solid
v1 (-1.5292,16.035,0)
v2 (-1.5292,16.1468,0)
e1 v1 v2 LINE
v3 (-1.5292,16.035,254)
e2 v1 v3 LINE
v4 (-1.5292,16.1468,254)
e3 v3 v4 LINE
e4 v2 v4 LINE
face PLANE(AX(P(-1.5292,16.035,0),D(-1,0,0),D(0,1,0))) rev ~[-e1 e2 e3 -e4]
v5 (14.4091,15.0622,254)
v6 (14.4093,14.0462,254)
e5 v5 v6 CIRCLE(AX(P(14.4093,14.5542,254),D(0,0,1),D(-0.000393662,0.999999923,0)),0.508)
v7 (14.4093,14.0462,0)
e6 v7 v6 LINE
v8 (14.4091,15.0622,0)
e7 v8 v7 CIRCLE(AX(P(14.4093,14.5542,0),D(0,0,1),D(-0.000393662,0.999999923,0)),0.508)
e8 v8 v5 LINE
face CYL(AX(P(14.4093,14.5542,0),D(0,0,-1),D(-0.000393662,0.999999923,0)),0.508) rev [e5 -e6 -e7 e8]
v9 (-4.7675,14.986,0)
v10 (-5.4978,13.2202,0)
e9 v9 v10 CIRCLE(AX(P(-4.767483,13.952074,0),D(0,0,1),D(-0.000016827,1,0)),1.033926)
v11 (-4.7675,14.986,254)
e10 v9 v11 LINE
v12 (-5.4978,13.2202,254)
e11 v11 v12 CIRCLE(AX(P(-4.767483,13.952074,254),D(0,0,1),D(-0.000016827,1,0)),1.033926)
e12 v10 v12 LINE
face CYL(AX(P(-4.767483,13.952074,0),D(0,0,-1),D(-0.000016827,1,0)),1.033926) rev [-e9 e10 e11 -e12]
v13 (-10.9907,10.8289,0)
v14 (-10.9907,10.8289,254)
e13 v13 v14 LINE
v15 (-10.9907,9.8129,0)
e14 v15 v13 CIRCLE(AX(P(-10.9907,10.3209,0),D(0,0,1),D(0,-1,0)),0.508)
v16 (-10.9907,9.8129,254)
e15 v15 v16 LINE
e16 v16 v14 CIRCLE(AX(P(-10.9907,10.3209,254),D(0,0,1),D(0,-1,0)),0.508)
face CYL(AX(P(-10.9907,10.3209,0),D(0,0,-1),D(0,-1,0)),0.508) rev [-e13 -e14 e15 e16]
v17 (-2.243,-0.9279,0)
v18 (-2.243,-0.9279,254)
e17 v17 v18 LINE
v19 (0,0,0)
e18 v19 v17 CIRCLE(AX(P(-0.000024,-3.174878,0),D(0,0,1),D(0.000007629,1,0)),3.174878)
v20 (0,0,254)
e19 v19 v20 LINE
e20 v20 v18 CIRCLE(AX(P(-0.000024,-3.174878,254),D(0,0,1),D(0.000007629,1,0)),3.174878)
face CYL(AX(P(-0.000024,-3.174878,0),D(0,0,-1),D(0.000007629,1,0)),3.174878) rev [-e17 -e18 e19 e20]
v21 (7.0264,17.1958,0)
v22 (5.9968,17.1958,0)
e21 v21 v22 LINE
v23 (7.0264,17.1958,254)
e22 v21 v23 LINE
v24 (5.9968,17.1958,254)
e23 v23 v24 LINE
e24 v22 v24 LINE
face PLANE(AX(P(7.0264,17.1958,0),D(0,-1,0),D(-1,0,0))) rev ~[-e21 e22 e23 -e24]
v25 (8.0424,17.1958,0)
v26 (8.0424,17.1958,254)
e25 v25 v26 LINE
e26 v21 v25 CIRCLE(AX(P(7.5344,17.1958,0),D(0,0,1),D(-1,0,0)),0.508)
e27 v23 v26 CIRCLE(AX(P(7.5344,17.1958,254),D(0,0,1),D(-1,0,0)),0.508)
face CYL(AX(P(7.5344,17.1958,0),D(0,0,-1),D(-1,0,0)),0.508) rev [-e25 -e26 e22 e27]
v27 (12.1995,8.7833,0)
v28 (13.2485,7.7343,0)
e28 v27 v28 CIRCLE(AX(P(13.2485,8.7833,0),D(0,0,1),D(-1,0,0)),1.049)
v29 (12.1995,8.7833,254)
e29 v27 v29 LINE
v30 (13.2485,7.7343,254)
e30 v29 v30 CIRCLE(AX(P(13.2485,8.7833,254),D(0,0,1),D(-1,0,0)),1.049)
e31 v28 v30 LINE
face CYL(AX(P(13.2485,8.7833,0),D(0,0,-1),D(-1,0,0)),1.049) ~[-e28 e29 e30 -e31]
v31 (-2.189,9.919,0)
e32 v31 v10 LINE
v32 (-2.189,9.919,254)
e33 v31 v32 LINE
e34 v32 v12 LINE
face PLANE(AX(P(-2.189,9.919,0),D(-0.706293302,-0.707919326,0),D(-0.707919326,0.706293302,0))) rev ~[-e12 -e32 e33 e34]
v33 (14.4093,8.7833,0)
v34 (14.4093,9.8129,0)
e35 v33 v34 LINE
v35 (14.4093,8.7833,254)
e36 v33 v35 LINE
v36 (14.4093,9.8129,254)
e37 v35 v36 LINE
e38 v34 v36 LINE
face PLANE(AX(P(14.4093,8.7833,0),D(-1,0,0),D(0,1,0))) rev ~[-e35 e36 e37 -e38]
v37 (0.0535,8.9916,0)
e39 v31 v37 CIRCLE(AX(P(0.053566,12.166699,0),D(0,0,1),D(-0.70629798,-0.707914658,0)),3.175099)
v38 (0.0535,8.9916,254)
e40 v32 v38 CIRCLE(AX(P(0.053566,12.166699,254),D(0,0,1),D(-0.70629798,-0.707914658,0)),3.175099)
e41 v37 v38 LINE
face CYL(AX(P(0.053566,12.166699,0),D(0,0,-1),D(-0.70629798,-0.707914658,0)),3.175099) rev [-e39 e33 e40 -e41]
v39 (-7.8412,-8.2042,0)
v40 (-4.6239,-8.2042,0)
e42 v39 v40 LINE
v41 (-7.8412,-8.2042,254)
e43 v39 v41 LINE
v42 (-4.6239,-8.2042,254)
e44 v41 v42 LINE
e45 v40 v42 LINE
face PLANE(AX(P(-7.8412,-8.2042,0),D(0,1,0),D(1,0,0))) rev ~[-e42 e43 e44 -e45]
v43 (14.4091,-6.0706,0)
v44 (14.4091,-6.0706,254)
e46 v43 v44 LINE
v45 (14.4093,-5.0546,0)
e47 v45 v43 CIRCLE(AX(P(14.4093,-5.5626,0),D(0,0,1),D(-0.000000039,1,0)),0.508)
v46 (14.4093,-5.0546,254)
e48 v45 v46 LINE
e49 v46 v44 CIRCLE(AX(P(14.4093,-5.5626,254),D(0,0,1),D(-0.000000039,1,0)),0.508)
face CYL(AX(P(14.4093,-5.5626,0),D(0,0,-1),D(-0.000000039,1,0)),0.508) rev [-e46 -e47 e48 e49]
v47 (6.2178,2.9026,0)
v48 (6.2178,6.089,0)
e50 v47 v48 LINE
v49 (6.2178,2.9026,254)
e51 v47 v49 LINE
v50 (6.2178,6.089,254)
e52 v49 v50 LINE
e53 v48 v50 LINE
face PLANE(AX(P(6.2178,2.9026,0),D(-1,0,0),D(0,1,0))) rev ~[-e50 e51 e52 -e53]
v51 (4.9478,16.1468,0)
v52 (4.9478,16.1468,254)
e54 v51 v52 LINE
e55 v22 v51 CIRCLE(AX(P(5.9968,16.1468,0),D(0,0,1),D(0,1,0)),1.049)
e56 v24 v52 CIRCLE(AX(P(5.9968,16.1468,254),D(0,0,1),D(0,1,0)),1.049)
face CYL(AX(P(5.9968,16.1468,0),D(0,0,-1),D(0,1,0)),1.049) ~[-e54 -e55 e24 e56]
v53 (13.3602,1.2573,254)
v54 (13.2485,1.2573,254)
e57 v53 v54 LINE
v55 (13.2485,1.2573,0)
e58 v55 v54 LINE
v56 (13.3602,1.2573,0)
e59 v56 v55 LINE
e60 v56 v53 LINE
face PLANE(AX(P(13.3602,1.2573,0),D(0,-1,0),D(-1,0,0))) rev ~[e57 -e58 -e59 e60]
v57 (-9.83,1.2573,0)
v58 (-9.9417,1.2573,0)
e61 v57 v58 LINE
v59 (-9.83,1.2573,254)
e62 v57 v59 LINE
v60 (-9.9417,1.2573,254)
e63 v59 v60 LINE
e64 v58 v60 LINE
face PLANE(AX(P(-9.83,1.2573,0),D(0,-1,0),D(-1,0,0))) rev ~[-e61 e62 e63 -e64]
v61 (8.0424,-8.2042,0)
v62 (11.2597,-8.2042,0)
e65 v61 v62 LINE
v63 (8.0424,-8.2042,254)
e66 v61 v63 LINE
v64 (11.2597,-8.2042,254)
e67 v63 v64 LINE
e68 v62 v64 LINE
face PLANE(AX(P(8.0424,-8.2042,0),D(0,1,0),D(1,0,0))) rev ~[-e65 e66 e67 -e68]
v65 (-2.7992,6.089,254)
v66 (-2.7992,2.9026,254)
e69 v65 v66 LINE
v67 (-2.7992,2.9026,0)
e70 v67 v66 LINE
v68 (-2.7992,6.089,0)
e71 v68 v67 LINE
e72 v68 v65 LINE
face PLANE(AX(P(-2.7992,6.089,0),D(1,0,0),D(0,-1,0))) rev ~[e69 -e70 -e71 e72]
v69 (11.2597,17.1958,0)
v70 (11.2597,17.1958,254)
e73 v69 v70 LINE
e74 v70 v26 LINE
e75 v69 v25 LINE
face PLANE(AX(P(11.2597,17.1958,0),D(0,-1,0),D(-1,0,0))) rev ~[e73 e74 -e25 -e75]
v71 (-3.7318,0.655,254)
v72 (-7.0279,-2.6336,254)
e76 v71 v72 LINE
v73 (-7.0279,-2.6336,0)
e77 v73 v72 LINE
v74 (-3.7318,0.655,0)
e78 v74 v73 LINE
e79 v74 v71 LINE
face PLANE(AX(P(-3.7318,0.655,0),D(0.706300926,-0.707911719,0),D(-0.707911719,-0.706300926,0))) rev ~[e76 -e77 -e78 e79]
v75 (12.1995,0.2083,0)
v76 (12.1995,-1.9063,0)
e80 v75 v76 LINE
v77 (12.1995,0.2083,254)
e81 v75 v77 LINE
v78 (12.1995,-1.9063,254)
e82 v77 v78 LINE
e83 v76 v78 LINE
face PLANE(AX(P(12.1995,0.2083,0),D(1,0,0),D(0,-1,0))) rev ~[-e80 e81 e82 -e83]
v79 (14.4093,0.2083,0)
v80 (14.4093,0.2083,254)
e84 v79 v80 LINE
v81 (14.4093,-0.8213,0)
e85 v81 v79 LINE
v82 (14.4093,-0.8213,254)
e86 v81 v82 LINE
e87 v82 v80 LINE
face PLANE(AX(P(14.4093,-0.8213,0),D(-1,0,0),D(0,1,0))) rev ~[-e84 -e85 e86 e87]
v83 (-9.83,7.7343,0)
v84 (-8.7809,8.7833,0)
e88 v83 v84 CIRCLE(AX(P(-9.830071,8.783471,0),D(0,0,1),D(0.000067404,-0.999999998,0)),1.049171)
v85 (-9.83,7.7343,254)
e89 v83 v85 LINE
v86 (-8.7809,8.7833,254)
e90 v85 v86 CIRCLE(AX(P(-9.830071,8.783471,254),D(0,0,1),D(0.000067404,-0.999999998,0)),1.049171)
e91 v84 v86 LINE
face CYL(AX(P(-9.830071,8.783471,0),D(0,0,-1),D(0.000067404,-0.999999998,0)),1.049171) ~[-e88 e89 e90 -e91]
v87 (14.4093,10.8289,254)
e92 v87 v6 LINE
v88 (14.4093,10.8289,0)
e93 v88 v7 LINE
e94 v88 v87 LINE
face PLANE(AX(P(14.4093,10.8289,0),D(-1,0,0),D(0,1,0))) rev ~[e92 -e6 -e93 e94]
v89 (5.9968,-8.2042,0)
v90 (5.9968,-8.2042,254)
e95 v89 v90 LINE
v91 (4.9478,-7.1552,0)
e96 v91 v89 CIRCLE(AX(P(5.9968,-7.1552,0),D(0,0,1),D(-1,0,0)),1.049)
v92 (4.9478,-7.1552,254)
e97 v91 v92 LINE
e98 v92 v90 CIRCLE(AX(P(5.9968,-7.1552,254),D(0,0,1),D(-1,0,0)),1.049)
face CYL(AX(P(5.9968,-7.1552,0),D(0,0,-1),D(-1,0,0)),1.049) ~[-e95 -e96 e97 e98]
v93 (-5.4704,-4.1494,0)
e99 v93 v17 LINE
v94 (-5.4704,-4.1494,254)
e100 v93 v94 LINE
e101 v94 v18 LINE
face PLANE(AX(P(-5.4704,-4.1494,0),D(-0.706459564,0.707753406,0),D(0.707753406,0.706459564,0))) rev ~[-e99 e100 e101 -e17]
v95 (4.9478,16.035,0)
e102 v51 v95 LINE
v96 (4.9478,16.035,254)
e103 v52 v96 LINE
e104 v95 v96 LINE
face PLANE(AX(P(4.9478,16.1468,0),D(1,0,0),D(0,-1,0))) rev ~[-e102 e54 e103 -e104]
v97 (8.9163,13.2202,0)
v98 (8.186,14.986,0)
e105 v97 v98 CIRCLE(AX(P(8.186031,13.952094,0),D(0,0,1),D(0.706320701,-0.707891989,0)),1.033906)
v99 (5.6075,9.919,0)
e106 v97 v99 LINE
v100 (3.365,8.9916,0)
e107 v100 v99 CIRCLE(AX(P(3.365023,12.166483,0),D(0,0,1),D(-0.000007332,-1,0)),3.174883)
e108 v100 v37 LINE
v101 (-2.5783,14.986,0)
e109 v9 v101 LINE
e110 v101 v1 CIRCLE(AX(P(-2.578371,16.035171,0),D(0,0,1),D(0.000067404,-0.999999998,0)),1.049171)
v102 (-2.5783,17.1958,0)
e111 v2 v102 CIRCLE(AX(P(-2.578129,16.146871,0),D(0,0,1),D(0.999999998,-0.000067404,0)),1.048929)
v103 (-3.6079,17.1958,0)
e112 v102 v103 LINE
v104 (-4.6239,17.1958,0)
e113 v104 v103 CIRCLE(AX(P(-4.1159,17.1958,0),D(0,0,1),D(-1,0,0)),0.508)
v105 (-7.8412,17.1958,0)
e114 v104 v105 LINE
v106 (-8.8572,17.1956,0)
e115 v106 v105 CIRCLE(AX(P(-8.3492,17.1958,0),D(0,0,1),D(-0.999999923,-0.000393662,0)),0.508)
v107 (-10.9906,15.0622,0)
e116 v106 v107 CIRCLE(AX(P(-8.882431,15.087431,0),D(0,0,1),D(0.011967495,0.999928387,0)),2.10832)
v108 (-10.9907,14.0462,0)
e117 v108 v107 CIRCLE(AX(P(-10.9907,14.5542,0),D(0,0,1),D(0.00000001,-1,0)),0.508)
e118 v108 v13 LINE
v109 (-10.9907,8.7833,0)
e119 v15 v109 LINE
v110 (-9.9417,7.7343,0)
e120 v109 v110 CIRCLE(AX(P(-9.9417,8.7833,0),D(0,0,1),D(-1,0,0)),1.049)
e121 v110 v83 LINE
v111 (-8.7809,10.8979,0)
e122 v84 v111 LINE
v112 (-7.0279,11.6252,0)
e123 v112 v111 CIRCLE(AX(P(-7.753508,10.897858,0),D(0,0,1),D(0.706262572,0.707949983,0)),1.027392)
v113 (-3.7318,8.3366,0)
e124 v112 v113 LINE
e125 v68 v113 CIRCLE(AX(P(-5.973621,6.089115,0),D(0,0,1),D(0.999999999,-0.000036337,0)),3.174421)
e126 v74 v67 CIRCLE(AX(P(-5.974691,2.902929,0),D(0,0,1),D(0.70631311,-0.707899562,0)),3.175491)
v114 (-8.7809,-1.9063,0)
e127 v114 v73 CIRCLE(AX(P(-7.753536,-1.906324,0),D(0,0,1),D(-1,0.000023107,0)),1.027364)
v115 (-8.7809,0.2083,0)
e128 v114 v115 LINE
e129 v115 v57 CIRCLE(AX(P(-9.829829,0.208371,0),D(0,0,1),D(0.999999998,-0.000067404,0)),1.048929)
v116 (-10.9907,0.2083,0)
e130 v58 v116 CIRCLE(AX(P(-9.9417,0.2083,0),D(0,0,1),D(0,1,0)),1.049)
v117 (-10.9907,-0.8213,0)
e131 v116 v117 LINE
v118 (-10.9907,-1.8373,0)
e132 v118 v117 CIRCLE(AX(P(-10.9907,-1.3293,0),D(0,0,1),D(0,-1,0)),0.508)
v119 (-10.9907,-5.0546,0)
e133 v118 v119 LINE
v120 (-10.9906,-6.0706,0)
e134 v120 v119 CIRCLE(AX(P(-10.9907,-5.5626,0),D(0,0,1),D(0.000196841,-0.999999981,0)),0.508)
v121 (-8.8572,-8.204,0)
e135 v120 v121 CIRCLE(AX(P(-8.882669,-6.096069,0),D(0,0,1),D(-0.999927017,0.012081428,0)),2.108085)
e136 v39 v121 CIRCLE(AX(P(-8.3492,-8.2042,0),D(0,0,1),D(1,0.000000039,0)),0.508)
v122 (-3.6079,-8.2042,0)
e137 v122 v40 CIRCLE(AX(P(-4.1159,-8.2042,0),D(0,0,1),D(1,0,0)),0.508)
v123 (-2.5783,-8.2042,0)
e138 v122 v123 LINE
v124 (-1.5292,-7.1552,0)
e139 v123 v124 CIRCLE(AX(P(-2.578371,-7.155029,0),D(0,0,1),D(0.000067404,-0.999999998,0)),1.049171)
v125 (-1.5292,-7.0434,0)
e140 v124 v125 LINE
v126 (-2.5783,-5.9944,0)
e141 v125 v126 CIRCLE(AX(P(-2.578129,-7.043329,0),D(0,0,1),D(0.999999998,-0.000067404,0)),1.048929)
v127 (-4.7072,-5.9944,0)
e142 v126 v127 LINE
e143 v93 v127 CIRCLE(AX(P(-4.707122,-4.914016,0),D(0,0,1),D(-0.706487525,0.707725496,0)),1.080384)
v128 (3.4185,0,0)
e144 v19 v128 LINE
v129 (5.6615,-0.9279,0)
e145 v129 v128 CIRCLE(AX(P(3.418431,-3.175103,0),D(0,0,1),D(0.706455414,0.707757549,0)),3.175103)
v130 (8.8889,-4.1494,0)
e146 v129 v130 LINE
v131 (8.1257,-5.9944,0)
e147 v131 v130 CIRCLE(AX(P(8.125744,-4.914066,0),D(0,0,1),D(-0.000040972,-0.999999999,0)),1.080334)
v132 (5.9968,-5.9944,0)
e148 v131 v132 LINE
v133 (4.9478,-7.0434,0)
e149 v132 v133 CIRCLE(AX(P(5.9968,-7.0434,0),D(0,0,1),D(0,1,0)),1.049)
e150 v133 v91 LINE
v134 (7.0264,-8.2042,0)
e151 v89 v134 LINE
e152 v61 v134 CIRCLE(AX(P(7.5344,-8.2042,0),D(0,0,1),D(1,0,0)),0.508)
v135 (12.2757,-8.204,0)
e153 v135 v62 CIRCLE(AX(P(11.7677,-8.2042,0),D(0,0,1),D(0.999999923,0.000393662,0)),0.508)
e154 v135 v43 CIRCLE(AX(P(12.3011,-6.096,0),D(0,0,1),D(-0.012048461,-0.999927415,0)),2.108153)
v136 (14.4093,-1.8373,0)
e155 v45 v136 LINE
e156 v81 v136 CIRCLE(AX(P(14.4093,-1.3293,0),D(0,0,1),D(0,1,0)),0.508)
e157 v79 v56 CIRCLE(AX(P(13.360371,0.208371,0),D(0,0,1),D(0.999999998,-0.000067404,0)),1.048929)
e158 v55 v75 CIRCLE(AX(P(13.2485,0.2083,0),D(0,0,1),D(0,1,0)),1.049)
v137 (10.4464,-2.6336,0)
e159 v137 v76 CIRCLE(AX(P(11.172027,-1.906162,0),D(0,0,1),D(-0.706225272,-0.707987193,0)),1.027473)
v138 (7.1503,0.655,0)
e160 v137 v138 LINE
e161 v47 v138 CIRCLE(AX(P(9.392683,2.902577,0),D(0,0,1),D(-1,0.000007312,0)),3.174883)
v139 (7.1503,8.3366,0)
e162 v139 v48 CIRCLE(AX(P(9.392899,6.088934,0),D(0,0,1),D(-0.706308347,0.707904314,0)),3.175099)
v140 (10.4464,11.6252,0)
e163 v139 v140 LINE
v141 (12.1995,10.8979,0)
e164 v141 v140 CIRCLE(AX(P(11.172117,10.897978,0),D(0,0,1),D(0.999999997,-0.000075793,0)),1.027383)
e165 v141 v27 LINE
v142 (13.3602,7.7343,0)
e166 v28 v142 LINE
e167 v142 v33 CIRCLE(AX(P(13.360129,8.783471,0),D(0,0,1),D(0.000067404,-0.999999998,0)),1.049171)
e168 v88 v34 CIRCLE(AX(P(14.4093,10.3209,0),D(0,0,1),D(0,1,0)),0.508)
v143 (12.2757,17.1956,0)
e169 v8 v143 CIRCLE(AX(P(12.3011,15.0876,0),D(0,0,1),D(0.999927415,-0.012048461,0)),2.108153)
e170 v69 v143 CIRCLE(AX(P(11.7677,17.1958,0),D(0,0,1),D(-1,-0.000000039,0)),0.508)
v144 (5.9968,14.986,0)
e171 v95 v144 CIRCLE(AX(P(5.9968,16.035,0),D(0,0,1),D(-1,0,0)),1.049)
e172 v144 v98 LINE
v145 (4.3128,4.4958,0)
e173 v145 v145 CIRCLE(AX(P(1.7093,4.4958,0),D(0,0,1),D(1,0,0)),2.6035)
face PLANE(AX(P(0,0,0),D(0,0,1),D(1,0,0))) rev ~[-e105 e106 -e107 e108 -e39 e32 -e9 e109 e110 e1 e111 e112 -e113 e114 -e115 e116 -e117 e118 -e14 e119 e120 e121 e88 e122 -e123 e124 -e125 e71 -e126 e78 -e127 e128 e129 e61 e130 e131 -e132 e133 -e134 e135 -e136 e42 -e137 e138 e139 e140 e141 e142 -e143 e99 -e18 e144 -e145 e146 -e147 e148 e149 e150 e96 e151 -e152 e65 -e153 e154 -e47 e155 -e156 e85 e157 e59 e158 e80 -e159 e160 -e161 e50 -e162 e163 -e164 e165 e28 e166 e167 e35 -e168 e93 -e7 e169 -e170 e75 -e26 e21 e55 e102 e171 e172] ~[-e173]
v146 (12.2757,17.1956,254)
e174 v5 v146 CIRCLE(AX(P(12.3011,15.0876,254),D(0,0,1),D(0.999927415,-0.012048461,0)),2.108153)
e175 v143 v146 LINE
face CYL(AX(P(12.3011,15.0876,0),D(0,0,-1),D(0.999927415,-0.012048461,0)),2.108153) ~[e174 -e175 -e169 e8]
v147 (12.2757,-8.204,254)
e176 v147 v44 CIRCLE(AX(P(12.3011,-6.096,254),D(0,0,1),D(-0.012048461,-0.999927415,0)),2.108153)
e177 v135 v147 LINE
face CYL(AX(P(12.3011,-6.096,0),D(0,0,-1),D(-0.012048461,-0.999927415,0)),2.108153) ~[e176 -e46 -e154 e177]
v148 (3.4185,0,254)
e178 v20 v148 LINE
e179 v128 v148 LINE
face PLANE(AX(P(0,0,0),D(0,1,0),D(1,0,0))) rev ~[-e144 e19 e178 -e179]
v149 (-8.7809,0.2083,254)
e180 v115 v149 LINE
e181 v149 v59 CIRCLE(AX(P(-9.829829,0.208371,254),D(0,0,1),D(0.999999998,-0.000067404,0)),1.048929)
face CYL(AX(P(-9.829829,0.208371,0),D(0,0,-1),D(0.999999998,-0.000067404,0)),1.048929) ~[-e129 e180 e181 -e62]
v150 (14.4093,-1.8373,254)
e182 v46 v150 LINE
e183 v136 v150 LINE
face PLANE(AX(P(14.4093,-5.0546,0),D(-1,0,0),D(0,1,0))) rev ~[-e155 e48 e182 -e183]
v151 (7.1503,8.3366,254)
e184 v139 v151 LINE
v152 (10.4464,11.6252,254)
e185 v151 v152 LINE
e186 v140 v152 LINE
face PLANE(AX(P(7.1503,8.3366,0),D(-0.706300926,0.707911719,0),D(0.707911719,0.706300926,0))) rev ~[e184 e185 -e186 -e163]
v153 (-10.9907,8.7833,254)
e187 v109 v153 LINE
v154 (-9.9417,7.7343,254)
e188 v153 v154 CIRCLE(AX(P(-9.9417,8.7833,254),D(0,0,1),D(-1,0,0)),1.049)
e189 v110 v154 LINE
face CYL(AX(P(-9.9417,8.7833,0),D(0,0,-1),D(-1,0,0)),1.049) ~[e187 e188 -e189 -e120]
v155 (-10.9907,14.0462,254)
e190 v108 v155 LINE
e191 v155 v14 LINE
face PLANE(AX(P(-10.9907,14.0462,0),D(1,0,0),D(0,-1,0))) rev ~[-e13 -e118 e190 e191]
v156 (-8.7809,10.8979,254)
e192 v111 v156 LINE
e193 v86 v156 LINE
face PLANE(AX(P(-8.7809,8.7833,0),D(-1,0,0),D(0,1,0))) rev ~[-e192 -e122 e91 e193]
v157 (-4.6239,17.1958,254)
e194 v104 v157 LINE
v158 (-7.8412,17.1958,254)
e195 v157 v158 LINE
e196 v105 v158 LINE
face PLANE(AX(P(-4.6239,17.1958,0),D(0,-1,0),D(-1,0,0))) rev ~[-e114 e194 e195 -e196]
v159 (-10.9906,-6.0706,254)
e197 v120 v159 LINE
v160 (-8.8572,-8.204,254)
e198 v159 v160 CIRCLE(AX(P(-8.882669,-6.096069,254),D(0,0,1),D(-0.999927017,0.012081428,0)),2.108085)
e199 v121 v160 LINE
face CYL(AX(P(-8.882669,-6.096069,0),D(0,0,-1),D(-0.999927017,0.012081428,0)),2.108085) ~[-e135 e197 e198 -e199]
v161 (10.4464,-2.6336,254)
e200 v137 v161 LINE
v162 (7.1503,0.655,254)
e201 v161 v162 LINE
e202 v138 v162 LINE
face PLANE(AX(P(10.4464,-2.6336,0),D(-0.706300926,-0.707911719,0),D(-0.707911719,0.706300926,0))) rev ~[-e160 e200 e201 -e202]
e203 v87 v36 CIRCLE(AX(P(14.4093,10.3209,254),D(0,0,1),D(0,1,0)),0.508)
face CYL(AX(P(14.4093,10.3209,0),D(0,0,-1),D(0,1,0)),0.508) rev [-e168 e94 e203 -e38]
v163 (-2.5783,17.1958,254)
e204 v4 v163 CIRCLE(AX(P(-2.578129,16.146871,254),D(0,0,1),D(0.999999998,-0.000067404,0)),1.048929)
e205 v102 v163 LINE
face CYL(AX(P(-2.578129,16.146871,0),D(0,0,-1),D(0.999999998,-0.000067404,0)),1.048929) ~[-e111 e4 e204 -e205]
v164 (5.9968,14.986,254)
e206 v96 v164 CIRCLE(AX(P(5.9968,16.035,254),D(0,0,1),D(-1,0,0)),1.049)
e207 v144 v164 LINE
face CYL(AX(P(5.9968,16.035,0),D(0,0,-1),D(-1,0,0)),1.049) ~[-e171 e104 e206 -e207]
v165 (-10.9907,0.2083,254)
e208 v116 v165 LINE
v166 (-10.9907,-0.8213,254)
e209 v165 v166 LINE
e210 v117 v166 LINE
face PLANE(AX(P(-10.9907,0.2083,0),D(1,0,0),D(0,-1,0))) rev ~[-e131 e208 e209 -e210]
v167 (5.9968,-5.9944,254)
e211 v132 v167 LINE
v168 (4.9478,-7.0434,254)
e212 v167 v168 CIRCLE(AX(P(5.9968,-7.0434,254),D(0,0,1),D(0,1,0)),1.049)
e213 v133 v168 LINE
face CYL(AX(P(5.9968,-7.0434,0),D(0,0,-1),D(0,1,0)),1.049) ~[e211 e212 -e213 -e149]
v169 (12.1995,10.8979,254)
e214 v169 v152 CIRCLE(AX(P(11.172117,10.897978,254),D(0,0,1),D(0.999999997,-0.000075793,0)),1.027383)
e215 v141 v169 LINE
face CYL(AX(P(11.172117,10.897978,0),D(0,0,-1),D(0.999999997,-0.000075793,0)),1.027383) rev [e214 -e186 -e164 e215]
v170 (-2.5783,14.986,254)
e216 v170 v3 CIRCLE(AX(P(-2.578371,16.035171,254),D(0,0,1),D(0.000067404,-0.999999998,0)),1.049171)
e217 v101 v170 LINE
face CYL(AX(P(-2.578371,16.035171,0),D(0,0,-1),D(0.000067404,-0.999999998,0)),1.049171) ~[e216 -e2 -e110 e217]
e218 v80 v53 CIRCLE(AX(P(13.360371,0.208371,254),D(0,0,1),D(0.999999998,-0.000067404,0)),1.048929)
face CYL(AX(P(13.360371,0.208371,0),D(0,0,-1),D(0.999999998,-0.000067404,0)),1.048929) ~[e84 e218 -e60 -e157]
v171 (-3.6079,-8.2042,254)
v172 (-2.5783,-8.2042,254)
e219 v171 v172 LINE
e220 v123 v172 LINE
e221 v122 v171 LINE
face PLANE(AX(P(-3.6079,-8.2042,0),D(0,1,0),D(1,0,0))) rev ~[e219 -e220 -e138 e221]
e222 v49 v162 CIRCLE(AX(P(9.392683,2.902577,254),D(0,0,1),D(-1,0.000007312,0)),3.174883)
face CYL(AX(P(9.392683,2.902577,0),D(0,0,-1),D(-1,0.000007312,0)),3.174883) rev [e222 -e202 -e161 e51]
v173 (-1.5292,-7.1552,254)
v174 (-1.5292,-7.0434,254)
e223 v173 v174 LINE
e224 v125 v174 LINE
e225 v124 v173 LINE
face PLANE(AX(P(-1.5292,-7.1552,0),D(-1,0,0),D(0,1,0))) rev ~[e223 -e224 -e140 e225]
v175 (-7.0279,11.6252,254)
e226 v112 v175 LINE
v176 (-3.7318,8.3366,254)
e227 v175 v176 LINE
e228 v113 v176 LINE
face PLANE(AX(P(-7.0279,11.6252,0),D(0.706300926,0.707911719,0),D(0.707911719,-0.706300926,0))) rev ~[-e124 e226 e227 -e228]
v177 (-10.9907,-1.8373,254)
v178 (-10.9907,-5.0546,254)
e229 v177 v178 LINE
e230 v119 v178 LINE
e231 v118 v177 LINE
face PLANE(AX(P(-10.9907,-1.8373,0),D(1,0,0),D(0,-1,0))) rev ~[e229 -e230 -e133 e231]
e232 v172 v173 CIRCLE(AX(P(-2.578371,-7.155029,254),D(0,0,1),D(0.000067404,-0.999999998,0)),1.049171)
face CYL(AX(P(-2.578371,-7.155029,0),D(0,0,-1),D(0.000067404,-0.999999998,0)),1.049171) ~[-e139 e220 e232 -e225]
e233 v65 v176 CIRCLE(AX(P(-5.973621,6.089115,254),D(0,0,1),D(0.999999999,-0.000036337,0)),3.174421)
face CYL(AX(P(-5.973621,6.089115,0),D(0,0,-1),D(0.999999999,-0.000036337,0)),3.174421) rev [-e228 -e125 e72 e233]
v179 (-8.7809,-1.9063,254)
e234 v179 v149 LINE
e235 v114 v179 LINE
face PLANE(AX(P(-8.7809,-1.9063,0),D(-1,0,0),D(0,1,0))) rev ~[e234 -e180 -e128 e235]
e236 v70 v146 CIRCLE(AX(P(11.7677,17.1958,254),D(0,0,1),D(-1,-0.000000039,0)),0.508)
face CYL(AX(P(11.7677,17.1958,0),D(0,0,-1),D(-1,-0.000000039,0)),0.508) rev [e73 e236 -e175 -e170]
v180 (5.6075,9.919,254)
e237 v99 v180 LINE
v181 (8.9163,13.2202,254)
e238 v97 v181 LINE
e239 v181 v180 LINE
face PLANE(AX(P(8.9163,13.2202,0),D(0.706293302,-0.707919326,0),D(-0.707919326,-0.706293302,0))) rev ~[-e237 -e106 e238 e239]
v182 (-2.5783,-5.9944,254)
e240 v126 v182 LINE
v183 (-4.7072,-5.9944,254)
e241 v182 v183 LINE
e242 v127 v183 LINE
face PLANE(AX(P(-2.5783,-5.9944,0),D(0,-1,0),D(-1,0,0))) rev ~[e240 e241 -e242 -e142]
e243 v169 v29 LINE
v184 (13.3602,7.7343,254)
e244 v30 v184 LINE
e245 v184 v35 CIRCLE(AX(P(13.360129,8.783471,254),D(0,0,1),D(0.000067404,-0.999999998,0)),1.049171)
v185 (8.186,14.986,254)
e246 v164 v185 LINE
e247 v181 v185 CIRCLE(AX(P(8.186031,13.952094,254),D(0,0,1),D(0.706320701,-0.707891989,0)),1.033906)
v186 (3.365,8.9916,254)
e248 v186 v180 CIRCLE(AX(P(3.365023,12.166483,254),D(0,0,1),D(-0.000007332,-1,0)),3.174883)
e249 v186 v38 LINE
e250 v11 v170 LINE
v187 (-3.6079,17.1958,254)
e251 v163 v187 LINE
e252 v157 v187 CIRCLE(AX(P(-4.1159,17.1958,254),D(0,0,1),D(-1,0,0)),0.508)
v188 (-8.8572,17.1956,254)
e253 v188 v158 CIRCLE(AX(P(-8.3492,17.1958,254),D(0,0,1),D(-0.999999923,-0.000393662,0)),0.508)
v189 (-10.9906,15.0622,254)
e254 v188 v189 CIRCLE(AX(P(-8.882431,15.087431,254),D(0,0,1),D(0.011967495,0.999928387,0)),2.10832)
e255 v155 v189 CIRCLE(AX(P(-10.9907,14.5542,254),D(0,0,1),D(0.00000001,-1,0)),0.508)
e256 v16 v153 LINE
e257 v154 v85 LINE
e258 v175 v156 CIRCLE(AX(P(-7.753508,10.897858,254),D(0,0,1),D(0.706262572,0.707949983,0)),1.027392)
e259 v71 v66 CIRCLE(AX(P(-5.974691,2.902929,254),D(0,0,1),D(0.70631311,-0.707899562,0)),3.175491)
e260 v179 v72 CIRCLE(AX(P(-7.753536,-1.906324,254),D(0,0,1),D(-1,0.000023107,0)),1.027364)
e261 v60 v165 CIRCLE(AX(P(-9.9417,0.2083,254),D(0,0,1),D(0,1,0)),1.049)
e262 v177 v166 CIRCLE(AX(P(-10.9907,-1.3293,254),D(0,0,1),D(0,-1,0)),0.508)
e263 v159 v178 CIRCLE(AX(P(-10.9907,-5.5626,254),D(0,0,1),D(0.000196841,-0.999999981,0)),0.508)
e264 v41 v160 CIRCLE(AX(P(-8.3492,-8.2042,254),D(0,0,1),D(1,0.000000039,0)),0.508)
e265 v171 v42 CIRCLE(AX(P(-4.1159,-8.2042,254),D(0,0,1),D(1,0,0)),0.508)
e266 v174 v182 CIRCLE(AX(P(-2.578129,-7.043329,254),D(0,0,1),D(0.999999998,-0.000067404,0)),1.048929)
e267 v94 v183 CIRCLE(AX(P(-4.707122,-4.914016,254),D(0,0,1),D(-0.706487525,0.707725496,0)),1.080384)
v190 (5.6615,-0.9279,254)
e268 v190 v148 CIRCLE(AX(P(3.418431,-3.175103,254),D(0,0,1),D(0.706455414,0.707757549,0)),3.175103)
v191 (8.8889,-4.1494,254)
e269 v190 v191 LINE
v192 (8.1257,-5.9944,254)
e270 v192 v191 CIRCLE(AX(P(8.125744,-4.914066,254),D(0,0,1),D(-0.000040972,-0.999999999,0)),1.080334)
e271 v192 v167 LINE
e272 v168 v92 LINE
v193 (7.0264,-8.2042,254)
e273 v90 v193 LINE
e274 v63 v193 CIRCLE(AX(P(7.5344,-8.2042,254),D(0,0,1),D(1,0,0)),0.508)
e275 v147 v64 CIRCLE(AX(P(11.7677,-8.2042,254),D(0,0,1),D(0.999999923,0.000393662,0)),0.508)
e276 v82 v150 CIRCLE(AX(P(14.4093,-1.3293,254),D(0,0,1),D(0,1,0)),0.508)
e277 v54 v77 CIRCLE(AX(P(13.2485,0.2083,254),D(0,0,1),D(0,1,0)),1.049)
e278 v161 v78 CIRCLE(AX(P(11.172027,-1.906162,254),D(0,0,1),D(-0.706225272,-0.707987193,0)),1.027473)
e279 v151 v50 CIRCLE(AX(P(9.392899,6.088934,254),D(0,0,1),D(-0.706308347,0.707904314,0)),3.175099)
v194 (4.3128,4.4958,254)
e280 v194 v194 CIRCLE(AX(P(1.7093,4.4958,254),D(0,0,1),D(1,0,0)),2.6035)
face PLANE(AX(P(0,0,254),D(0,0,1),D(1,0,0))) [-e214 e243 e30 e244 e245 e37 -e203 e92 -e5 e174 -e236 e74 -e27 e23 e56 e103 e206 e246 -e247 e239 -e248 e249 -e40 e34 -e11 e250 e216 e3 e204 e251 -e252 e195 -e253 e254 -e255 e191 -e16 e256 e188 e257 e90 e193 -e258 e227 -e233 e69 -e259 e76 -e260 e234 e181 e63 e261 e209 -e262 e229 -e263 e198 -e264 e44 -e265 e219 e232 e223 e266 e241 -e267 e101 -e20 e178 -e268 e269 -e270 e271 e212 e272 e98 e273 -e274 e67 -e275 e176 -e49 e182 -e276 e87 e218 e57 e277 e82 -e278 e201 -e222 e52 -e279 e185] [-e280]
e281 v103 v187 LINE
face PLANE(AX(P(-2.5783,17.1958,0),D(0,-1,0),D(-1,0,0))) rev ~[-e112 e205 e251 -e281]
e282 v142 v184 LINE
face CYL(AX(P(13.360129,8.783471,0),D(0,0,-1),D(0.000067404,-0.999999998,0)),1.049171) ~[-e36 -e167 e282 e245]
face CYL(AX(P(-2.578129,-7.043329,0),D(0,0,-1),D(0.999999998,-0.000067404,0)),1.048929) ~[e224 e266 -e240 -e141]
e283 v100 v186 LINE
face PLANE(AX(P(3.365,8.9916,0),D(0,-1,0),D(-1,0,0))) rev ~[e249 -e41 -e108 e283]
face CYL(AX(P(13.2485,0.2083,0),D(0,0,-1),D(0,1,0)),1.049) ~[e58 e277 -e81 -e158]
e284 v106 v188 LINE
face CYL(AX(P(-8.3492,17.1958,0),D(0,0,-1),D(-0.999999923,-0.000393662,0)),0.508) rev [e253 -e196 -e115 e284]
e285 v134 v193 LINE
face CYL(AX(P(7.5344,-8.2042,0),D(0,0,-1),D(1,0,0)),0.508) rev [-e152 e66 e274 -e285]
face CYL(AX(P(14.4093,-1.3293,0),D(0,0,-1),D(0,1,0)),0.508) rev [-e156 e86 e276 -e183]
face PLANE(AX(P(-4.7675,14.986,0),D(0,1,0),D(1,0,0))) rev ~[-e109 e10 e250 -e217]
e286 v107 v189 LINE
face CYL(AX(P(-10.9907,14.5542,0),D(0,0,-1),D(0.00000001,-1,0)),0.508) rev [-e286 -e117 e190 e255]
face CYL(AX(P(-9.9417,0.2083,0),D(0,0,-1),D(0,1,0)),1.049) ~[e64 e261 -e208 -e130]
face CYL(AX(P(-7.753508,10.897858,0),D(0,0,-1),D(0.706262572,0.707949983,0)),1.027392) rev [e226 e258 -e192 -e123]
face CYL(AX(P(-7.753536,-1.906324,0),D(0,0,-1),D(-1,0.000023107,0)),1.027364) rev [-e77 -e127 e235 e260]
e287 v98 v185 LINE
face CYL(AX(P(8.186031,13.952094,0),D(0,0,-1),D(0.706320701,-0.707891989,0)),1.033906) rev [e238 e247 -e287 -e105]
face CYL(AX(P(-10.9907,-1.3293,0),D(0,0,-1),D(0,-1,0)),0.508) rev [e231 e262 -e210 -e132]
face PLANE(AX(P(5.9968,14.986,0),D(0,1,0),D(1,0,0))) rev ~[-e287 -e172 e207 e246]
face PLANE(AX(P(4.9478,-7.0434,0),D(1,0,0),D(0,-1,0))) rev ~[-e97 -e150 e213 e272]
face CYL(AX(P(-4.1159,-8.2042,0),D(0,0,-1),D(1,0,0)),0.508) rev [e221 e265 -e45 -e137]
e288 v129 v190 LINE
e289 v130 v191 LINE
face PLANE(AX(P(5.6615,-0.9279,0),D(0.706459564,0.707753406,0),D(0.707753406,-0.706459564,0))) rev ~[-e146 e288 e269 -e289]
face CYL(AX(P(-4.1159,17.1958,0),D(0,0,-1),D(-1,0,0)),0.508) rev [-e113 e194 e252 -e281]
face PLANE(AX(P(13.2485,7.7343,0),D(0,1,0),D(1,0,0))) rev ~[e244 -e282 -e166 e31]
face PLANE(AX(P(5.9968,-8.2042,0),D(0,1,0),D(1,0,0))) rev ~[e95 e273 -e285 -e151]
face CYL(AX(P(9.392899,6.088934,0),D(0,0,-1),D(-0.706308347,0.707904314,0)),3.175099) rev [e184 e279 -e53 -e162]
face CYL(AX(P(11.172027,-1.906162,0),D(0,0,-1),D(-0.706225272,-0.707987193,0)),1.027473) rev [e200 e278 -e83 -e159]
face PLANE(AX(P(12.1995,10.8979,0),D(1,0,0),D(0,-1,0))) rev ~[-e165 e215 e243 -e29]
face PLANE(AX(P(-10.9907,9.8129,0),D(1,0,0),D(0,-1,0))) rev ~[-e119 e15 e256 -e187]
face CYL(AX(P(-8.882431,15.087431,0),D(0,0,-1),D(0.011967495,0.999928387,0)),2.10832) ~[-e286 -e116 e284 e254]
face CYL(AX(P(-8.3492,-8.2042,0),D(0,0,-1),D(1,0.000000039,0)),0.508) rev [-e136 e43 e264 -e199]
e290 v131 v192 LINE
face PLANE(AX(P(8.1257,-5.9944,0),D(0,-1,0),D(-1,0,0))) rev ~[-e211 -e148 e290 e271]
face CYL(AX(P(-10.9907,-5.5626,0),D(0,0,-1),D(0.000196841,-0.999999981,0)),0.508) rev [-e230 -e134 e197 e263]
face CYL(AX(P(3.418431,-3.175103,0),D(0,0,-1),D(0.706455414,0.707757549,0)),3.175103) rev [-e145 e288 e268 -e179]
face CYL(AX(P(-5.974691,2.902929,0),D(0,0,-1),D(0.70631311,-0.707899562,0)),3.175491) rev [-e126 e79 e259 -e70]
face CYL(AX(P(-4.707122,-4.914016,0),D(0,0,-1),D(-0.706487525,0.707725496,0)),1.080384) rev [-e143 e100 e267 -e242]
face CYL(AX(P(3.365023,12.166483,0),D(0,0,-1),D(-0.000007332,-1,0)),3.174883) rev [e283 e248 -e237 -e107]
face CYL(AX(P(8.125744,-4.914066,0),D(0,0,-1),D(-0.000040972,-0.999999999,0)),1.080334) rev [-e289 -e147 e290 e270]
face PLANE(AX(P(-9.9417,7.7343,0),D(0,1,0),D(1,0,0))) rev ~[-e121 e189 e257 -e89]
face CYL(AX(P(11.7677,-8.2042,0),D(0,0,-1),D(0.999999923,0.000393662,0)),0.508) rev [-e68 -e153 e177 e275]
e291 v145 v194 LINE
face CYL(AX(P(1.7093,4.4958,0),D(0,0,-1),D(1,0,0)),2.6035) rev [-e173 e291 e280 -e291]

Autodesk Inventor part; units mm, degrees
ref_plane "YZ Plane" through (0, 0, 0) normal (1, 0, 0) x (0, 1, 0)
ref_plane "XZ Plane" through (0, 0, 0) normal (0, 1, 0) x (-1, 0, 0)
ref_plane "XY Plane" through (0, 0, 0) normal (0, 0, 1) x (1, 0, 0)
sketch "Sketch1" plane through (0, 0, 0) normal (0, 0, 1) x (1, 0, 0)
  arc A0 (-5.4704, -4.1494) -> (-4.7072, -5.9944) centre (-4.7072, -4.914) ccw
  line L0 (-5.4704, -4.1494) -> (-2.243, -0.9279)
  arc A1 (0, 0) -> (-2.243, -0.9279) centre (0, -3.175) ccw
  line L1 (0, 0) -> (3.4185, 0)
  arc A2 (5.6615, -0.9279) -> (3.4185, 0) centre (3.4185, -3.175) ccw
  line L2 (5.6615, -0.9279) -> (8.8889, -4.1494)
  arc A3 (8.1257, -5.9944) -> (8.8889, -4.1494) centre (8.1257, -4.914) ccw
  line L3 (8.1257, -5.9944) -> (5.9968, -5.9944)
  arc A4 (5.9968, -5.9944) -> (4.9478, -7.0434) centre (5.9968, -7.0434) ccw
  line L4 (4.9478, -7.0434) -> (4.9478, -7.1552)
  arc A5 (4.9478, -7.1552) -> (5.9968, -8.2042) centre (5.9968, -7.1552) ccw
  line L5 (5.9968, -8.2042) -> (7.0264, -8.2042)
  arc A6 (8.0424, -8.2042) -> (7.0264, -8.2042) centre (7.5344, -8.2042) ccw
  line L6 (8.0424, -8.2042) -> (11.2597, -8.2042)
  arc A7 (12.2757, -8.204) -> (11.2597, -8.2042) centre (11.7677, -8.2042) ccw
  arc A8 (12.2757, -8.204) -> (14.4091, -6.0706) centre (12.3011, -6.096) ccw
  arc A9 (14.4093, -5.0546) -> (14.4091, -6.0706) centre (14.4093, -5.5626) ccw
  line L7 (14.4093, -5.0546) -> (14.4093, -1.8373)
  arc A10 (14.4093, -0.8213) -> (14.4093, -1.8373) centre (14.4093, -1.3293) ccw
  line L8 (14.4093, -0.8213) -> (14.4093, 0.2083)
  arc A11 (14.4093, 0.2083) -> (13.3602, 1.2573) centre (13.3602, 0.2083) ccw
  line L9 (13.3602, 1.2573) -> (13.2485, 1.2573)
  arc A12 (13.2485, 1.2573) -> (12.1995, 0.2083) centre (13.2485, 0.2083) ccw
  line L10 (12.1995, 0.2083) -> (12.1995, -1.9063)
  arc A13 (10.4464, -2.6336) -> (12.1995, -1.9063) centre (11.172, -1.9063) ccw
  line L11 (10.4464, -2.6336) -> (7.1503, 0.655)
  arc A14 (6.2178, 2.9026) -> (7.1503, 0.655) centre (9.3928, 2.9026) ccw
  line L12 (6.2178, 2.9026) -> (6.2178, 6.089)
  arc A15 (7.1503, 8.3366) -> (6.2178, 6.089) centre (9.3928, 6.089) ccw
  line L13 (7.1503, 8.3366) -> (10.4464, 11.6252)
  arc A16 (12.1995, 10.8979) -> (10.4464, 11.6252) centre (11.172, 10.8979) ccw
  line L14 (12.1995, 10.8979) -> (12.1995, 8.7833)
  arc A17 (12.1995, 8.7833) -> (13.2485, 7.7343) centre (13.2485, 8.7833) ccw
  line L15 (13.2485, 7.7343) -> (13.3602, 7.7343)
  arc A18 (13.3602, 7.7343) -> (14.4093, 8.7833) centre (13.3602, 8.7833) ccw
  line L16 (14.4093, 8.7833) -> (14.4093, 9.8129)
  arc A19 (14.4093, 10.8289) -> (14.4093, 9.8129) centre (14.4093, 10.3209) ccw
  line L17 (14.4093, 10.8289) -> (14.4093, 14.0462)
  arc A20 (14.4091, 15.0622) -> (14.4093, 14.0462) centre (14.4093, 14.5542) ccw
  arc A21 (14.4091, 15.0622) -> (12.2757, 17.1956) centre (12.3011, 15.0876) ccw
  arc A22 (11.2597, 17.1958) -> (12.2757, 17.1956) centre (11.7677, 17.1958) ccw
  line L18 (11.2597, 17.1958) -> (8.0424, 17.1958)
  arc A23 (7.0264, 17.1958) -> (8.0424, 17.1958) centre (7.5344, 17.1958) ccw
  line L19 (7.0264, 17.1958) -> (5.9968, 17.1958)
  arc A24 (5.9968, 17.1958) -> (4.9478, 16.1468) centre (5.9968, 16.1468) ccw
  line L20 (4.9478, 16.1468) -> (4.9478, 16.035)
  arc A25 (4.9478, 16.035) -> (5.9968, 14.986) centre (5.9968, 16.035) ccw
  line L21 (5.9968, 14.986) -> (8.186, 14.986)
  arc A26 (8.9163, 13.2202) -> (8.186, 14.986) centre (8.186, 13.9521) ccw
  line L22 (8.9163, 13.2202) -> (5.6075, 9.919)
  arc A27 (3.365, 8.9916) -> (5.6075, 9.919) centre (3.365, 12.1666) ccw
  line L23 (3.365, 8.9916) -> (0.0535, 8.9916)
  arc A28 (-2.189, 9.919) -> (0.0535, 8.9916) centre (0.0535, 12.1666) ccw
  line L24 (-2.189, 9.919) -> (-5.4978, 13.2202)
  arc A29 (-4.7675, 14.986) -> (-5.4978, 13.2202) centre (-4.7675, 13.9521) ccw
  line L25 (-4.7675, 14.986) -> (-2.5783, 14.986)
  arc A30 (-2.5783, 14.986) -> (-1.5292, 16.035) centre (-2.5783, 16.035) ccw
  line L26 (-1.5292, 16.035) -> (-1.5292, 16.1468)
  arc A31 (-1.5292, 16.1468) -> (-2.5783, 17.1958) centre (-2.5783, 16.1468) ccw
  line L27 (-2.5783, 17.1958) -> (-3.6079, 17.1958)
  arc A32 (-4.6239, 17.1958) -> (-3.6079, 17.1958) centre (-4.1159, 17.1958) ccw
  line L28 (-4.6239, 17.1958) -> (-7.8412, 17.1958)
  arc A33 (-8.8572, 17.1956) -> (-7.8412, 17.1958) centre (-8.3492, 17.1958) ccw
  arc A34 (-8.8572, 17.1956) -> (-10.9906, 15.0622) centre (-8.8825, 15.0876) ccw
  arc A35 (-10.9907, 14.0462) -> (-10.9906, 15.0622) centre (-10.9907, 14.5542) ccw
  line L29 (-10.9907, 14.0462) -> (-10.9907, 10.8289)
  arc A36 (-10.9907, 9.8129) -> (-10.9907, 10.8289) centre (-10.9907, 10.3209) ccw
  line L30 (-10.9907, 9.8129) -> (-10.9907, 8.7833)
  arc A37 (-10.9907, 8.7833) -> (-9.9417, 7.7343) centre (-9.9417, 8.7833) ccw
  line L31 (-9.9417, 7.7343) -> (-9.83, 7.7343)
  arc A38 (-9.83, 7.7343) -> (-8.7809, 8.7833) centre (-9.83, 8.7833) ccw
  line L32 (-8.7809, 8.7833) -> (-8.7809, 10.8979)
  arc A39 (-7.0279, 11.6252) -> (-8.7809, 10.8979) centre (-7.7535, 10.8979) ccw
  line L33 (-7.0279, 11.6252) -> (-3.7318, 8.3366)
  arc A40 (-2.7992, 6.089) -> (-3.7318, 8.3366) centre (-5.9742, 6.089) ccw
  line L34 (-2.7992, 6.089) -> (-2.7992, 2.9026)
  arc A41 (-3.7318, 0.655) -> (-2.7992, 2.9026) centre (-5.9742, 2.9026) ccw
  line L35 (-3.7318, 0.655) -> (-7.0279, -2.6336)
  arc A42 (-8.7809, -1.9063) -> (-7.0279, -2.6336) centre (-7.7535, -1.9063) ccw
  line L36 (-8.7809, -1.9063) -> (-8.7809, 0.2083)
  arc A43 (-8.7809, 0.2083) -> (-9.83, 1.2573) centre (-9.83, 0.2083) ccw
  line L37 (-9.83, 1.2573) -> (-9.9417, 1.2573)
  arc A44 (-9.9417, 1.2573) -> (-10.9907, 0.2083) centre (-9.9417, 0.2083) ccw
  line L38 (-10.9907, 0.2083) -> (-10.9907, -0.8213)
  arc A45 (-10.9907, -1.8373) -> (-10.9907, -0.8213) centre (-10.9907, -1.3293) ccw
  line L39 (-10.9907, -1.8373) -> (-10.9907, -5.0546)
  arc A46 (-10.9906, -6.0706) -> (-10.9907, -5.0546) centre (-10.9907, -5.5626) ccw
  arc A47 (-10.9906, -6.0706) -> (-8.8572, -8.204) centre (-8.8825, -6.096) ccw
  arc A48 (-7.8412, -8.2042) -> (-8.8572, -8.204) centre (-8.3492, -8.2042) ccw
  line L40 (-7.8412, -8.2042) -> (-4.6239, -8.2042)
  arc A49 (-3.6079, -8.2042) -> (-4.6239, -8.2042) centre (-4.1159, -8.2042) ccw
  line L41 (-3.6079, -8.2042) -> (-2.5783, -8.2042)
  arc A50 (-2.5783, -8.2042) -> (-1.5292, -7.1552) centre (-2.5783, -7.1552) ccw
  line L42 (-1.5292, -7.1552) -> (-1.5292, -7.0434)
  arc A51 (-1.5292, -7.0434) -> (-2.5783, -5.9944) centre (-2.5783, -7.0434) ccw
  line L43 (-2.5783, -5.9944) -> (-4.7072, -5.9944)
  circle A52 centre (1.7093, 4.4958) radius 2.6035
extrude "Extrusion1" add sketch "Sketch1" along normal blind 254
properties part number "10 in 1x1 T slot" material "Steel, Alloy"
